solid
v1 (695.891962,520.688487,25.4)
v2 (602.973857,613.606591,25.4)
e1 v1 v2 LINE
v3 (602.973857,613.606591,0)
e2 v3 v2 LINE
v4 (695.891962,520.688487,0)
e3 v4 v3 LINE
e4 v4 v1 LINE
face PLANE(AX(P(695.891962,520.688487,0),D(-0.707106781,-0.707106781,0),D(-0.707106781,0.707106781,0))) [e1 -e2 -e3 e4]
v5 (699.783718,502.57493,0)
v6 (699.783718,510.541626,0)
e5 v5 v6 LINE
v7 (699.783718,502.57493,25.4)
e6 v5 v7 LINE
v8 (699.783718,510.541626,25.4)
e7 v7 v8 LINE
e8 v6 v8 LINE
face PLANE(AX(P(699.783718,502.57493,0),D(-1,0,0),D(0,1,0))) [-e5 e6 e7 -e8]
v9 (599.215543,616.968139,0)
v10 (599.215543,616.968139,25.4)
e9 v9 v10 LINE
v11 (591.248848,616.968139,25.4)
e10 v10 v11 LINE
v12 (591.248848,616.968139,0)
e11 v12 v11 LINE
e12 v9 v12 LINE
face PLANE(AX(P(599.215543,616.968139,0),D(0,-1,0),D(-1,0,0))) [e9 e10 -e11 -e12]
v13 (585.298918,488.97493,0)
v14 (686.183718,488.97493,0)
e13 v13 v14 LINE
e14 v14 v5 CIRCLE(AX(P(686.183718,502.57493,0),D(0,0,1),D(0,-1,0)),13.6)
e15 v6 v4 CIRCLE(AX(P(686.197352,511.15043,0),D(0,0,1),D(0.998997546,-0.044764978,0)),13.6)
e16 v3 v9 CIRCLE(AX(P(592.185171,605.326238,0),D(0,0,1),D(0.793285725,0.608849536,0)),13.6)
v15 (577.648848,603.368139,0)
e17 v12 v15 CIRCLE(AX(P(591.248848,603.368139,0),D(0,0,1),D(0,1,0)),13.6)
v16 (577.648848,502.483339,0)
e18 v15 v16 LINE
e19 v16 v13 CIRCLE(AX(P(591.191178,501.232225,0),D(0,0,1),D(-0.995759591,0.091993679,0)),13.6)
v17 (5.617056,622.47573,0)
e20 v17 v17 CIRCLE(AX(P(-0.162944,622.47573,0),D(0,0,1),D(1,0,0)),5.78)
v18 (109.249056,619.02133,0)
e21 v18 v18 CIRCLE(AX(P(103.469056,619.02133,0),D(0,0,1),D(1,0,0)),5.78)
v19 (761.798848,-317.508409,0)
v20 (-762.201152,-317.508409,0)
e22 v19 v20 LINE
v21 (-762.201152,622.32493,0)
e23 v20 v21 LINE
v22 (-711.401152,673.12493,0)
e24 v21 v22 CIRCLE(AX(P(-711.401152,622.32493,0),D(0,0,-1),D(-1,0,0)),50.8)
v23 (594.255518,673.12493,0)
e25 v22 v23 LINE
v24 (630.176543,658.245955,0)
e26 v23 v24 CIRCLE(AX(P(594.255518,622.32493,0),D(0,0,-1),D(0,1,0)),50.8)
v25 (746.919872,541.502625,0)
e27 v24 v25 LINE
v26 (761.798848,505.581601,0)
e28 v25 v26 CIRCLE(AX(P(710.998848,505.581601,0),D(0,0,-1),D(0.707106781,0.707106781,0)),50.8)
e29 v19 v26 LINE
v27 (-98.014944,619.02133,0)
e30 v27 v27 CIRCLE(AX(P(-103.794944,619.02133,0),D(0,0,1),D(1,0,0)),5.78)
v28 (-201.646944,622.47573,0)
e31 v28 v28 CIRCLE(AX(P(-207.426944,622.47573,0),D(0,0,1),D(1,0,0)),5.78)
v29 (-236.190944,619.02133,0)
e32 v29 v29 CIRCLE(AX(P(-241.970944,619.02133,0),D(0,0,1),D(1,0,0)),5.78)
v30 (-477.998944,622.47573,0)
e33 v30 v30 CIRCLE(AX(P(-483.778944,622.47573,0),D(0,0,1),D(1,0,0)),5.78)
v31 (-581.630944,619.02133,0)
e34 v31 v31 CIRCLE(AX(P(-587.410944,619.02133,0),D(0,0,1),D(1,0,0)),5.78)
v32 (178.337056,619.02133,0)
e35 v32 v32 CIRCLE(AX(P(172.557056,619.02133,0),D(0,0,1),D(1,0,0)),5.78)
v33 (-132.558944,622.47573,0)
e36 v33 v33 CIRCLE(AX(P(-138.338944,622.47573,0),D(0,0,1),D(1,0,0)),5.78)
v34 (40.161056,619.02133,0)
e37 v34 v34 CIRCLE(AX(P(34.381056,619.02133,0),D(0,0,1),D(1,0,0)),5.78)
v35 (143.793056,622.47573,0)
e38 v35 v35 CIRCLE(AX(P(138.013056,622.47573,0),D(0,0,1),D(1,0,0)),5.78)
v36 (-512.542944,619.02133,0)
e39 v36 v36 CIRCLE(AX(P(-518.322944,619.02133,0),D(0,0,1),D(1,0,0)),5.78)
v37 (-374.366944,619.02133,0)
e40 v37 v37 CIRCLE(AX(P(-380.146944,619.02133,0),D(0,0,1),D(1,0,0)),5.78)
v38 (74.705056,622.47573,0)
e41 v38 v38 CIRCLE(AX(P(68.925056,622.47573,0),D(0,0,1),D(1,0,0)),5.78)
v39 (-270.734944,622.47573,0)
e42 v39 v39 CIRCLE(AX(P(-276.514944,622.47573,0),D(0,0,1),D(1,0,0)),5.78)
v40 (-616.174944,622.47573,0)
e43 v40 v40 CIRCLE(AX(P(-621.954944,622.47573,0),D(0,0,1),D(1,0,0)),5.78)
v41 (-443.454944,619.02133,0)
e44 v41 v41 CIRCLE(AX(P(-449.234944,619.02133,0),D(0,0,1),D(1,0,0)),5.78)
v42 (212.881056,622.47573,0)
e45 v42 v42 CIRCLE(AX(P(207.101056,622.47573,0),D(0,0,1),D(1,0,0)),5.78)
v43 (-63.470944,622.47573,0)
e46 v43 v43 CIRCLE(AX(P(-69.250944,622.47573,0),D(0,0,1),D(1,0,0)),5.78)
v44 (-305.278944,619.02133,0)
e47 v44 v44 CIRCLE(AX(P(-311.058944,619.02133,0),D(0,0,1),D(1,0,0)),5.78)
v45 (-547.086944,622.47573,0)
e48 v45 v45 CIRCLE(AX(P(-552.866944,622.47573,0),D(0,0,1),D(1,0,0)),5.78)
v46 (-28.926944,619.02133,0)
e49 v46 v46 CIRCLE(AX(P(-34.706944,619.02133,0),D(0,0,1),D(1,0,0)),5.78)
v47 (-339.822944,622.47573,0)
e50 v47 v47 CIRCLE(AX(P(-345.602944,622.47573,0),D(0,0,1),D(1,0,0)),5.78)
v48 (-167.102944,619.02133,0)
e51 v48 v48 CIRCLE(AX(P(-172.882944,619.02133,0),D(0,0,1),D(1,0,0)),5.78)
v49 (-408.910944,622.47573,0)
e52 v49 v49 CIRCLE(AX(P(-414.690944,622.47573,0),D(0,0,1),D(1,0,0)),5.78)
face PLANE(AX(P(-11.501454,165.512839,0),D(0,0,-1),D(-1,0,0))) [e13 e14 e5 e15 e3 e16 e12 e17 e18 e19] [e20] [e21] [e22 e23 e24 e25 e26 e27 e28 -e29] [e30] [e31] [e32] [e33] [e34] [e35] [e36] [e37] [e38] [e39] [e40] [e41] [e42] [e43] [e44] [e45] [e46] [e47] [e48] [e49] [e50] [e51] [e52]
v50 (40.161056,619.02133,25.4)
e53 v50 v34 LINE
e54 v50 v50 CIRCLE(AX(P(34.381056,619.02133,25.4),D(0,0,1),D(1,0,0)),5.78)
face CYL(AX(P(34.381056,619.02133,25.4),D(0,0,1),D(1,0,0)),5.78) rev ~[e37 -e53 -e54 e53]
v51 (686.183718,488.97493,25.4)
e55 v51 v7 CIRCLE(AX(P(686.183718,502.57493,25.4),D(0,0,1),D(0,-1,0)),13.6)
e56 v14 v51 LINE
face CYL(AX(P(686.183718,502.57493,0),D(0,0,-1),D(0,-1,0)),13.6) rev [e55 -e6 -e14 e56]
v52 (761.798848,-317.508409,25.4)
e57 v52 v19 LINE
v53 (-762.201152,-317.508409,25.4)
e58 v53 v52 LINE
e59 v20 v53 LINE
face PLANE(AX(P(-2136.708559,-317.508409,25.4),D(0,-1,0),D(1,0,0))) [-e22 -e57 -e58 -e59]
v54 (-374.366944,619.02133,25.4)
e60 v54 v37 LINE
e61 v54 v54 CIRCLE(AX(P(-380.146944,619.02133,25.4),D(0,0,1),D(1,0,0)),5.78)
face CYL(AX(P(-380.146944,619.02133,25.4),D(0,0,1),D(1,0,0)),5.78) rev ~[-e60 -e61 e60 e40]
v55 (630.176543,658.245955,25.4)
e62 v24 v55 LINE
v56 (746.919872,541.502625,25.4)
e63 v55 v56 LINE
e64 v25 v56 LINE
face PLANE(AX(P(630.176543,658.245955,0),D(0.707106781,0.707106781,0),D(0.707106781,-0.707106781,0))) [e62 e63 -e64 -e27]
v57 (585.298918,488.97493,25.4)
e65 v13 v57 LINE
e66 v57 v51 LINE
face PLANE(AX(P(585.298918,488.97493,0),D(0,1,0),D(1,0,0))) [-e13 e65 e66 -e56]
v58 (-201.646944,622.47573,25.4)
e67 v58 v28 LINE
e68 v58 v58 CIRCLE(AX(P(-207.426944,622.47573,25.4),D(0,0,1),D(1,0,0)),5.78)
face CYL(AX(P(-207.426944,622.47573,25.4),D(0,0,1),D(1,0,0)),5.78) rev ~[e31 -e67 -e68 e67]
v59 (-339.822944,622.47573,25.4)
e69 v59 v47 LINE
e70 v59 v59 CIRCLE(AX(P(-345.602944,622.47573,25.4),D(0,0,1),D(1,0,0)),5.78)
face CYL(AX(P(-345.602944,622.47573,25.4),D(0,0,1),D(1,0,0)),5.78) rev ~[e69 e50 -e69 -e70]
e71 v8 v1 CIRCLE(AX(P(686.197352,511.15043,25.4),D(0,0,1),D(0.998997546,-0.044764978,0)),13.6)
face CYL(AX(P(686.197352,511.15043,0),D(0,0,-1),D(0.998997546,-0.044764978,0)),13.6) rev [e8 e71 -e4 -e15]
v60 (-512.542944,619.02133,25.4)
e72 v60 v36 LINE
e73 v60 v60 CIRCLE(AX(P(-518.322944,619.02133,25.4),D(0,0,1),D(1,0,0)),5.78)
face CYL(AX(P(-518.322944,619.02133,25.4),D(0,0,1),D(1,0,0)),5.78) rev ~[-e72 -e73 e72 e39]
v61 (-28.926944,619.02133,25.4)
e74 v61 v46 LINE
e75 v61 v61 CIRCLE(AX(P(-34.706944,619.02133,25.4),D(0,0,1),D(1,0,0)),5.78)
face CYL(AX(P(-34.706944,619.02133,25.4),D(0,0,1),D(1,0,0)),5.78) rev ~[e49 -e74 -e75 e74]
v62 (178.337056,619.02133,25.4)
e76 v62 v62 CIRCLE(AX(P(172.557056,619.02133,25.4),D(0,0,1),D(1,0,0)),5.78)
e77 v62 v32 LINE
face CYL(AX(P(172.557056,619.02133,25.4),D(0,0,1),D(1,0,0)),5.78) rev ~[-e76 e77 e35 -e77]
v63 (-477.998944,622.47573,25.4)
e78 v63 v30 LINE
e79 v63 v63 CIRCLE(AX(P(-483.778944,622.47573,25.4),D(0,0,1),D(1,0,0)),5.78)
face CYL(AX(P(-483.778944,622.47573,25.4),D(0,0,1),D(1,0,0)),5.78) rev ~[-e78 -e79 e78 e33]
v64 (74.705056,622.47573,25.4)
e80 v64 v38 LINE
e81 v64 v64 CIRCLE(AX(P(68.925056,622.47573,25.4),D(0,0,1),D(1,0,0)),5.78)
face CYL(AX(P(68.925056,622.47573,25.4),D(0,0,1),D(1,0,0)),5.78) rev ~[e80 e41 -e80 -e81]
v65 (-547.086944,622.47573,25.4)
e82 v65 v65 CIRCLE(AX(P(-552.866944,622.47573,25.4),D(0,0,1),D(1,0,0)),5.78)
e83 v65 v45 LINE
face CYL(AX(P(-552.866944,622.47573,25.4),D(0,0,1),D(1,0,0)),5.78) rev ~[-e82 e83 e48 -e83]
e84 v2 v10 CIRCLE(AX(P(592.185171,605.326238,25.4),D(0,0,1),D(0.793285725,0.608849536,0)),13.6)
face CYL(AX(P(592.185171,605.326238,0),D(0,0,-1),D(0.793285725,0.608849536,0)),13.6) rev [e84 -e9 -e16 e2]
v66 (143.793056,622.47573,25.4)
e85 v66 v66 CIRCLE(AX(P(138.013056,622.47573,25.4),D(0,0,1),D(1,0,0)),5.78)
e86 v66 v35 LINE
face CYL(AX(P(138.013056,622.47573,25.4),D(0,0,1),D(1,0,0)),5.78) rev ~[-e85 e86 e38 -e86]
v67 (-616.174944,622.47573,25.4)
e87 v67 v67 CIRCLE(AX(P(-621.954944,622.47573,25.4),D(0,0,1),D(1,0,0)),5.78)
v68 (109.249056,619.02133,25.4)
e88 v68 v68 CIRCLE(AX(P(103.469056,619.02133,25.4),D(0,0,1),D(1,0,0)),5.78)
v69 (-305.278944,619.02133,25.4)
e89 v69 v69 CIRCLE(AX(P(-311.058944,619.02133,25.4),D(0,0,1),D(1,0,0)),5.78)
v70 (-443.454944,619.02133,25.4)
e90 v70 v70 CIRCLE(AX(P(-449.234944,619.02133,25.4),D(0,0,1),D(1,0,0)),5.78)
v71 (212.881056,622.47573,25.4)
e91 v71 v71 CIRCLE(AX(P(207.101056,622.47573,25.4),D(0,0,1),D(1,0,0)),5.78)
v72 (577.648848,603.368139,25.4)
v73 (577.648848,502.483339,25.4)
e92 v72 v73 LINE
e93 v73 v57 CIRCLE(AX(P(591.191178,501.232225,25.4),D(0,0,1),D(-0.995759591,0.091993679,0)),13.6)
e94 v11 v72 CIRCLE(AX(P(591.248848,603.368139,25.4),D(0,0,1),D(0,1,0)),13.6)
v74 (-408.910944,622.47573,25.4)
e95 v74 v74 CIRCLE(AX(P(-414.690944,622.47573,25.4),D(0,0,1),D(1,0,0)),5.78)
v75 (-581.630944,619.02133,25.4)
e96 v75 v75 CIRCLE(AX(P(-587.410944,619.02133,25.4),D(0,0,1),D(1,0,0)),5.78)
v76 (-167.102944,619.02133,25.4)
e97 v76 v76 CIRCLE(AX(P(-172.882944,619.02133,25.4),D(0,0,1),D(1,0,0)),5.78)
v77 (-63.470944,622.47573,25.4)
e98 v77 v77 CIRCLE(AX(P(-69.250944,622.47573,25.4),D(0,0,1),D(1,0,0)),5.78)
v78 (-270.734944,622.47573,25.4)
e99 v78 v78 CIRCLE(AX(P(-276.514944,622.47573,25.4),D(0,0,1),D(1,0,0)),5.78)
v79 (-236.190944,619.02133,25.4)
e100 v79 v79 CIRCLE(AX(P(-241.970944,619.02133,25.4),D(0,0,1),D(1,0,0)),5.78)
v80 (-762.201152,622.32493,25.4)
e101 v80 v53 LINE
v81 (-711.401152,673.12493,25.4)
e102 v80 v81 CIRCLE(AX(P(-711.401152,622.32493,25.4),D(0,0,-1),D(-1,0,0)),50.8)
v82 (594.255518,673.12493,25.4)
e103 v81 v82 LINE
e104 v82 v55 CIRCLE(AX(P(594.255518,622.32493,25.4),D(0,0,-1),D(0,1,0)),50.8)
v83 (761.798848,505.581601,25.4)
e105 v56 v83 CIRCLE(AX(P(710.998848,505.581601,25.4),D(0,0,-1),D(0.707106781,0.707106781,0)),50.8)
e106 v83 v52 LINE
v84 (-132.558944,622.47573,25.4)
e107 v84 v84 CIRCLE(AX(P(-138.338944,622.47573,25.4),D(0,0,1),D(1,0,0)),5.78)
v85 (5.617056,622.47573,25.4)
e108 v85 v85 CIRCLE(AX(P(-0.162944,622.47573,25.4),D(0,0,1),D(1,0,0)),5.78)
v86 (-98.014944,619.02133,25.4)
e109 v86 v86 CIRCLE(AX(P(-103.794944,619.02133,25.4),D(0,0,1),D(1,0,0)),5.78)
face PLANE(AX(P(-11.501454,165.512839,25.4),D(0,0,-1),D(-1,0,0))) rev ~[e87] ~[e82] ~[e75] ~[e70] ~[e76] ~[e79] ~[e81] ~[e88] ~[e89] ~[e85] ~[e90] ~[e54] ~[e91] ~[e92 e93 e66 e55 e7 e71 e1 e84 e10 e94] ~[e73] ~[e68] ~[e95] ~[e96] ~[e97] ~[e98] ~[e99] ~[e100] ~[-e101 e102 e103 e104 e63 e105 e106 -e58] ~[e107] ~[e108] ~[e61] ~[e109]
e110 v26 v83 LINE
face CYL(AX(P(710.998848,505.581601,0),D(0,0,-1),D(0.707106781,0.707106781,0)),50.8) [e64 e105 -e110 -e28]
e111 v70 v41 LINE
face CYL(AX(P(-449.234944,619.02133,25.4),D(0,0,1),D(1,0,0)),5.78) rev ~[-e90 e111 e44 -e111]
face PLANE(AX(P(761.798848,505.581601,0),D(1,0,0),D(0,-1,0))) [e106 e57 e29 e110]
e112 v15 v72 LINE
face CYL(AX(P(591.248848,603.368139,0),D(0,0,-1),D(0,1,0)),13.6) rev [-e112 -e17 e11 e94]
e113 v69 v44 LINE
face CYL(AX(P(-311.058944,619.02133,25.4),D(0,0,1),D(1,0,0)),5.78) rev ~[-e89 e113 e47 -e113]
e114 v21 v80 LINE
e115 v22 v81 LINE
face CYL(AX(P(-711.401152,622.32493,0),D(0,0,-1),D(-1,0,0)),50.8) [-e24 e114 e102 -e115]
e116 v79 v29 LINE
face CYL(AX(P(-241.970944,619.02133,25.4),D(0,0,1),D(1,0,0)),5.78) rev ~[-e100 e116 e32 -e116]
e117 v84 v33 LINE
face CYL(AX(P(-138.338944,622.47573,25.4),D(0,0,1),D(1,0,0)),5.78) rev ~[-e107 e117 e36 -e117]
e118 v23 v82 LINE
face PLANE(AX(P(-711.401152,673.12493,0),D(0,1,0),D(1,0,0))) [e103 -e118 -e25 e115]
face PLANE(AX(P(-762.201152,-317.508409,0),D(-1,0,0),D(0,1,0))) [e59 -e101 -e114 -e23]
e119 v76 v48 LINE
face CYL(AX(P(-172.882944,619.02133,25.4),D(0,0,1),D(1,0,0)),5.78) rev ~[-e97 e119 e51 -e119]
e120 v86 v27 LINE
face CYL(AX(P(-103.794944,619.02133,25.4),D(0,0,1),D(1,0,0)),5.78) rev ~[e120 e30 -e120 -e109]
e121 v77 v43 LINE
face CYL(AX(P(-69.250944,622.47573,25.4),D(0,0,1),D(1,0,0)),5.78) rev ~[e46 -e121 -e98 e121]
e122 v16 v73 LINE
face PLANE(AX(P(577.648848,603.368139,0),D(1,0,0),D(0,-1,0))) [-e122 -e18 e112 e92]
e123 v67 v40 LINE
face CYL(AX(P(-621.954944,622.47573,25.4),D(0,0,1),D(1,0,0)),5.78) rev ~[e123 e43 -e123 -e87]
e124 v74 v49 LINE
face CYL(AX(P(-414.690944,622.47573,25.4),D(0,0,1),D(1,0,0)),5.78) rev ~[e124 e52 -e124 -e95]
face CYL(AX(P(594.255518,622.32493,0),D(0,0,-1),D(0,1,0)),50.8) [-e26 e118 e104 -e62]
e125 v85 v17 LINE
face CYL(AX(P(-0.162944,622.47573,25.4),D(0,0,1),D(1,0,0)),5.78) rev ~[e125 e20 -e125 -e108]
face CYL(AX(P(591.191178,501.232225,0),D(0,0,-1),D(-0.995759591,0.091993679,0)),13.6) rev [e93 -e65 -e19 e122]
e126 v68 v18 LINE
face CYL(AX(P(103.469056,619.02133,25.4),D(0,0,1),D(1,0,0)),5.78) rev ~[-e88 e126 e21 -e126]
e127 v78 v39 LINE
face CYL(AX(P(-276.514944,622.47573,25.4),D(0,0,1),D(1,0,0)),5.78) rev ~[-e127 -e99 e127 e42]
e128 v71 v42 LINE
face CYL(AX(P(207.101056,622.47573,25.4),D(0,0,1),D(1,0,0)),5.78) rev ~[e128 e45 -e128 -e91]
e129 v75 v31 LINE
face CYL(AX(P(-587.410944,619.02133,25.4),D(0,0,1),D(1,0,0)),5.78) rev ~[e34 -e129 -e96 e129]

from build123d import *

# Parameters (mm, degrees)
LOWER_MPCHIP_R      = 12.7
BOSS_EXTRUDE1_DEPTH = 25.4
BOSS_EXTRUDE2_DEPTH = 25.4
CUT_EXTRUDE1_DEPTH  = 12.7
SKETCH12_R          = 5.78
CUT_EXTRUDE2_DEPTH  = 26.4
SKETCH13_W          = 3566.23722931
SKETCH13_H          = 1219.2
CUT_EXTRUDE3_DEPTH  = 26.4


with BuildPart() as part:
    # lower mpchip → Boss-Extrude1 (new body)
    with BuildSketch(Plane.XY):
        with BuildLine():
            Line((-762.201152263, -317.508408711), (761.798847737, -317.508408711))
            Line((761.798847737, -317.508408711), (761.798847737, -1480.956188545))
            ThreePointArc((761.798847737, -1480.956188545), (746.752491854, -1519.103697906), (709.716030721, -1536.708408711))
            Line((709.716030721, -1536.708408711), (-486.894749236, -1536.708408711))
            ThreePointArc((-486.894749236, -1536.708408711), (-506.3350676, -1532.841488963), (-522.815773721, -1521.829433195))
            Line((-522.815773721, -1521.829433195), (-747.322176747, -1297.323030169))
            ThreePointArc((-747.322176747, -1297.323030169), (-758.334232515, -1280.842324049), (-762.201152263, -1261.402005684))
            Line((-762.201152263, -1261.402005684), (-762.201152263, -573.5936))
            Line((-762.201152263, -573.5936), (-762.201152263, -317.508408711))
        make_face()
        with Locations((-621.20176, -630.088)):
            Circle(LOWER_MPCHIP_R, mode=Mode.SUBTRACT)
        with Locations((-414.14176, -630.088)):
            Circle(LOWER_MPCHIP_R, mode=Mode.SUBTRACT)
        with Locations((-208.08, -656.064)):
            Circle(LOWER_MPCHIP_R, mode=Mode.SUBTRACT)
        with Locations((-70.04, -656.064)):
            Circle(LOWER_MPCHIP_R, mode=Mode.SUBTRACT)
        with Locations((68, -656.064)):
            Circle(LOWER_MPCHIP_R, mode=Mode.SUBTRACT)
        with Locations((206.04, -656.064)):
            Circle(LOWER_MPCHIP_R, mode=Mode.SUBTRACT)
        with Locations((344.08, -656.064)):
            Circle(LOWER_MPCHIP_R, mode=Mode.SUBTRACT)
        with Locations((482.12, -656.064)):
            Circle(LOWER_MPCHIP_R, mode=Mode.SUBTRACT)
        with Locations((632.264, -656.064)):
            Circle(LOWER_MPCHIP_R, mode=Mode.SUBTRACT)
        with Locations((552.13824, -768.944)):
            Circle(LOWER_MPCHIP_R, mode=Mode.SUBTRACT)
        with Locations((414.09824, -768.944)):
            Circle(LOWER_MPCHIP_R, mode=Mode.SUBTRACT)
        with Locations((276.05824, -768.944)):
            Circle(LOWER_MPCHIP_R, mode=Mode.SUBTRACT)
        with Locations((138.01824, -768.944)):
            Circle(LOWER_MPCHIP_R, mode=Mode.SUBTRACT)
        with Locations((-0.02176, -768.944)):
            Circle(LOWER_MPCHIP_R, mode=Mode.SUBTRACT)
        with Locations((-138.06176, -768.944)):
            Circle(LOWER_MPCHIP_R, mode=Mode.SUBTRACT)
        with Locations((-331.99776, -712.232)):
            Circle(LOWER_MPCHIP_R, mode=Mode.SUBTRACT)
        with Locations((-414.14176, -794.376)):
            Circle(LOWER_MPCHIP_R, mode=Mode.SUBTRACT)
        with Locations((-496.28576, -712.232)):
            Circle(LOWER_MPCHIP_R, mode=Mode.SUBTRACT)
        with Locations((-621.20176, -909.16)):
            Circle(LOWER_MPCHIP_R, mode=Mode.SUBTRACT)
        with Locations((-483.16176, -909.16)):
            Circle(LOWER_MPCHIP_R, mode=Mode.SUBTRACT)
        with Locations((-345.12176, -909.16)):
            Circle(LOWER_MPCHIP_R, mode=Mode.SUBTRACT)
        with Locations((-207.08176, -909.16)):
            Circle(LOWER_MPCHIP_R, mode=Mode.SUBTRACT)
        with Locations((-69.04176, -909.16)):
            Circle(LOWER_MPCHIP_R, mode=Mode.SUBTRACT)
        with Locations((68.99824, -909.16)):
            Circle(LOWER_MPCHIP_R, mode=Mode.SUBTRACT)
        with Locations((207.03824, -909.16)):
            Circle(LOWER_MPCHIP_R, mode=Mode.SUBTRACT)
        with Locations((345.07824, -909.16)):
            Circle(LOWER_MPCHIP_R, mode=Mode.SUBTRACT)
        with Locations((483.11824, -909.16)):
            Circle(LOWER_MPCHIP_R, mode=Mode.SUBTRACT)
        with Locations((621.20176, -909.16)):
            Circle(LOWER_MPCHIP_R, mode=Mode.SUBTRACT)
        with Locations((552.20624, -1022.04)):
            Circle(LOWER_MPCHIP_R, mode=Mode.SUBTRACT)
        with Locations((632.264, -1134.92)):
            Circle(LOWER_MPCHIP_R, mode=Mode.SUBTRACT)
        with Locations((483.11824, -1134.92)):
            Circle(LOWER_MPCHIP_R, mode=Mode.SUBTRACT)
        with Locations((414.16624, -1022.04)):
            Circle(LOWER_MPCHIP_R, mode=Mode.SUBTRACT)
        with Locations((276.12624, -1022.04)):
            Circle(LOWER_MPCHIP_R, mode=Mode.SUBTRACT)
        with Locations((138.08624, -1022.04)):
            Circle(LOWER_MPCHIP_R, mode=Mode.SUBTRACT)
        with Locations((-0.04624, -1022.04)):
            Circle(LOWER_MPCHIP_R, mode=Mode.SUBTRACT)
        with Locations((-137.99376, -1022.04)):
            Circle(LOWER_MPCHIP_R, mode=Mode.SUBTRACT)
        with Locations((-276.03376, -1022.04)):
            Circle(LOWER_MPCHIP_R, mode=Mode.SUBTRACT)
        with Locations((-414.07376, -1022.04)):
            Circle(LOWER_MPCHIP_R, mode=Mode.SUBTRACT)
        with Locations((-552.11376, -1022.04)):
            Circle(LOWER_MPCHIP_R, mode=Mode.SUBTRACT)
        with Locations((-621.20176, -1134.92)):
            Circle(LOWER_MPCHIP_R, mode=Mode.SUBTRACT)
        with Locations((-483.16176, -1134.92)):
            Circle(LOWER_MPCHIP_R, mode=Mode.SUBTRACT)
        with Locations((-345.12176, -1134.92)):
            Circle(LOWER_MPCHIP_R, mode=Mode.SUBTRACT)
        with Locations((-207.08176, -1134.92)):
            Circle(LOWER_MPCHIP_R, mode=Mode.SUBTRACT)
        with Locations((-69.04176, -1134.92)):
            Circle(LOWER_MPCHIP_R, mode=Mode.SUBTRACT)
        with Locations((68.99824, -1134.92)):
            Circle(LOWER_MPCHIP_R, mode=Mode.SUBTRACT)
        with Locations((207.03824, -1134.92)):
            Circle(LOWER_MPCHIP_R, mode=Mode.SUBTRACT)
        with Locations((345.07824, -1134.92)):
            Circle(LOWER_MPCHIP_R, mode=Mode.SUBTRACT)
        with Locations((552.11376, -1247.8)):
            Circle(LOWER_MPCHIP_R, mode=Mode.SUBTRACT)
        with Locations((414.07376, -1247.8)):
            Circle(LOWER_MPCHIP_R, mode=Mode.SUBTRACT)
        with Locations((276.03376, -1247.8)):
            Circle(LOWER_MPCHIP_R, mode=Mode.SUBTRACT)
        with Locations((-276.03376, -1247.8)):
            Circle(LOWER_MPCHIP_R, mode=Mode.SUBTRACT)
        with Locations((-414.07376, -1247.8)):
            Circle(LOWER_MPCHIP_R, mode=Mode.SUBTRACT)
        with Locations((-552.11376, -1247.8)):
            Circle(LOWER_MPCHIP_R, mode=Mode.SUBTRACT)
        with Locations((-97.632449909, -1263.063884579)):
            Circle(LOWER_MPCHIP_R, mode=Mode.SUBTRACT)
        with Locations((106.666799165, -1262.352)):
            Circle(LOWER_MPCHIP_R, mode=Mode.SUBTRACT)
        with Locations((0.272, -1404.472)):
            Circle(LOWER_MPCHIP_R, mode=Mode.SUBTRACT)
        with BuildLine():
            Line((-538.8864, -1379.4208), (-538.8864, -1386.3296))
            ThreePointArc((-538.8864, -1386.3296), (-483.616, -1441.6), (-428.3456, -1386.3296))
            Line((-428.3456, -1386.3296), (-428.3456, -1379.4208))
            ThreePointArc((-428.3456, -1379.4208), (-483.616, -1324.1504), (-538.8864, -1379.4208))
        make_face(mode=Mode.SUBTRACT)
        Polygon((452.208145356, -1437.2752), (515.023854644, -1437.2752), (546.431709288, -1382.8752), (515.023854644, -1328.4752), (452.208145356, -1328.4752), (420.800290712, -1382.8752), align=None, mode=Mode.SUBTRACT)
    extrude(amount=BOSS_EXTRUDE1_DEPTH)

    # Sketch5 → Boss-Extrude2 (add)
    with BuildSketch(Plane.XY):
        with BuildLine():
            Line((761.798847737, -317.508408711), (-762.201152263, -317.508408711))
            Line((-762.201152263, -317.508408711), (-762.201152263, 622.324930397))
            ThreePointArc((-762.201152263, 622.324930397), (-747.322176747, 658.245954881), (-711.401152263, 673.124930397))
            Line((-711.401152263, 673.124930397), (594.255518163, 673.124930397))
            ThreePointArc((594.255518163, 673.124930397), (613.695836527, 669.258010649), (630.176542647, 658.245954881))
            Line((630.176542647, 658.245954881), (746.919872221, 541.502625308))
            ThreePointArc((746.919872221, 541.502625308), (757.931927989, 525.021919187), (761.798847737, 505.581600823))
            Line((761.798847737, 505.581600823), (761.798847737, 68.063364259))
            Line((761.798847737, 68.063364259), (761.798847737, -317.508408711))
        make_face()
        with BuildLine():
            Line((585.298918243, 488.974930397), (686.183718243, 488.974930397))
            ThreePointArc((686.183718243, 488.974930397), (695.800370467, 492.958278173), (699.783718243, 502.574930397))
            Line((699.783718243, 502.574930397), (699.783718243, 510.541625949))
            ThreePointArc((699.783718243, 510.541625949), (698.895409188, 516.020679535), (695.891961756, 520.688486804))
            Line((695.891961756, 520.688486804), (602.973857308, 613.606591252))
            ThreePointArc((602.973857308, 613.606591252), (601.251852502, 615.463066183), (599.215543289, 616.968139108))
            Line((599.215543289, 616.968139108), (591.248847737, 616.968139108))
            ThreePointArc((591.248847737, 616.968139108), (581.632195513, 612.984791332), (577.648847737, 603.368139108))
            Line((577.648847737, 603.368139108), (577.648847737, 502.483339108))
            ThreePointArc((577.648847737, 502.483339108), (579.357112847, 494.53036729), (585.298918243, 488.974930397))
        make_face(mode=Mode.SUBTRACT)
    extrude(amount=BOSS_EXTRUDE2_DEPTH)

    # Sketch6 → Cut-Extrude1 (cut)
    with BuildSketch(Plane.XY.offset(25.4)):
        with BuildLine():
            ThreePointArc((4.331497575, -1447.460752941), (43.452, -1404.472), (4.331497575, -1361.483247059))
            ThreePointArc((4.331497575, -1361.483247059), (0.272, -1357.228), (-3.787497575, -1361.483247059))
            ThreePointArc((-3.787497575, -1361.483247059), (-42.908, -1404.472), (-3.787497575, -1447.460752941))
            ThreePointArc((-3.787497575, -1447.460752941), (0.272, -1451.716), (4.331497575, -1447.460752941))
        make_face()
        with BuildLine():
            ThreePointArc((110.72629674, -1305.340752941), (149.846799165, -1262.352), (110.72629674, -1219.363247059))
            ThreePointArc((110.72629674, -1219.363247059), (106.666799165, -1215.108), (102.60730159, -1219.363247059))
            ThreePointArc((102.60730159, -1219.363247059), (63.486799165, -1262.352), (102.60730159, -1305.340752941))
            ThreePointArc((102.60730159, -1305.340752941), (106.666799165, -1309.596), (110.72629674, -1305.340752941))
        make_face()
        with BuildLine():
            ThreePointArc((280.093257575, -1290.788752941), (319.21376, -1247.8), (280.093257575, -1204.811247059))
            ThreePointArc((280.093257575, -1204.811247059), (276.03376, -1200.556), (271.974262425, -1204.811247059))
            ThreePointArc((271.974262425, -1204.811247059), (232.85376, -1247.8), (271.974262425, -1290.788752941))
            ThreePointArc((271.974262425, -1290.788752941), (276.03376, -1295.044), (280.093257575, -1290.788752941))
        make_face()
        with BuildLine():
            ThreePointArc((-93.572952334, -1306.05263752), (-54.452449909, -1263.063884579), (-93.572952334, -1220.075131637))
            ThreePointArc((-93.572952334, -1220.075131637), (-97.632449909, -1215.819884579), (-101.691947484, -1220.075131637))
            ThreePointArc((-101.691947484, -1220.075131637), (-140.812449909, -1263.063884579), (-101.691947484, -1306.05263752))
            ThreePointArc((-101.691947484, -1306.05263752), (-97.632449909, -1310.307884579), (-93.572952334, -1306.05263752))
        make_face()
        with BuildLine():
            ThreePointArc((-271.974262425, -1290.788752941), (-232.85376, -1247.8), (-271.974262425, -1204.811247059))
            ThreePointArc((-271.974262425, -1204.811247059), (-276.03376, -1200.556), (-280.093257575, -1204.811247059))
            ThreePointArc((-280.093257575, -1204.811247059), (-319.21376, -1247.8), (-280.093257575, -1290.788752941))
            ThreePointArc((-280.093257575, -1290.788752941), (-276.03376, -1295.044), (-271.974262425, -1290.788752941))
        make_face()
        with BuildLine():
            ThreePointArc((-410.014262425, -1290.788752941), (-370.89376, -1247.8), (-410.014262425, -1204.811247059))
            ThreePointArc((-410.014262425, -1204.811247059), (-414.07376, -1200.556), (-418.133257575, -1204.811247059))
            ThreePointArc((-418.133257575, -1204.811247059), (-457.25376, -1247.8), (-418.133257575, -1290.788752941))
            ThreePointArc((-418.133257575, -1290.788752941), (-414.07376, -1295.044), (-410.014262425, -1290.788752941))
        make_face()
        with BuildLine():
            ThreePointArc((-341.062262425, -1177.908752941), (-301.94176, -1134.92), (-341.062262425, -1091.931247059))
            ThreePointArc((-341.062262425, -1091.931247059), (-345.12176, -1087.676), (-349.181257575, -1091.931247059))
            ThreePointArc((-349.181257575, -1091.931247059), (-388.30176, -1134.92), (-349.181257575, -1177.908752941))
            ThreePointArc((-349.181257575, -1177.908752941), (-345.12176, -1182.164), (-341.062262425, -1177.908752941))
        make_face()
        with BuildLine():
            ThreePointArc((-203.022262425, -1177.908752941), (-163.90176, -1134.92), (-203.022262425, -1091.931247059))
            ThreePointArc((-203.022262425, -1091.931247059), (-207.08176, -1087.676), (-211.141257575, -1091.931247059))
            ThreePointArc((-211.141257575, -1091.931247059), (-250.26176, -1134.92), (-211.141257575, -1177.908752941))
            ThreePointArc((-211.141257575, -1177.908752941), (-207.08176, -1182.164), (-203.022262425, -1177.908752941))
        make_face()
        with BuildLine():
            ThreePointArc((-64.982262425, -1177.908752941), (-25.86176, -1134.92), (-64.982262425, -1091.931247059))
            ThreePointArc((-64.982262425, -1091.931247059), (-69.04176, -1087.676), (-73.101257575, -1091.931247059))
            ThreePointArc((-73.101257575, -1091.931247059), (-112.22176, -1134.92), (-73.101257575, -1177.908752941))
            ThreePointArc((-73.101257575, -1177.908752941), (-69.04176, -1182.164), (-64.982262425, -1177.908752941))
        make_face()
        with BuildLine():
            ThreePointArc((73.057737575, -1177.908752941), (112.17824, -1134.92), (73.057737575, -1091.931247059))
            ThreePointArc((73.057737575, -1091.931247059), (68.99824, -1087.676), (64.938742425, -1091.931247059))
            ThreePointArc((64.938742425, -1091.931247059), (25.81824, -1134.92), (64.938742425, -1177.908752941))
            ThreePointArc((64.938742425, -1177.908752941), (68.99824, -1182.164), (73.057737575, -1177.908752941))
        make_face()
        with BuildLine():
            ThreePointArc((211.097737575, -1177.908752941), (250.21824, -1134.92), (211.097737575, -1091.931247059))
            ThreePointArc((211.097737575, -1091.931247059), (207.03824, -1087.676), (202.978742425, -1091.931247059))
            ThreePointArc((202.978742425, -1091.931247059), (163.85824, -1134.92), (202.978742425, -1177.908752941))
            ThreePointArc((202.978742425, -1177.908752941), (207.03824, -1182.164), (211.097737575, -1177.908752941))
        make_face()
        with BuildLine():
            ThreePointArc((349.137737575, -1177.908752941), (388.25824, -1134.92), (349.137737575, -1091.931247059))
            ThreePointArc((349.137737575, -1091.931247059), (345.07824, -1087.676), (341.018742425, -1091.931247059))
            ThreePointArc((341.018742425, -1091.931247059), (301.89824, -1134.92), (341.018742425, -1177.908752941))
            ThreePointArc((341.018742425, -1177.908752941), (345.07824, -1182.164), (349.137737575, -1177.908752941))
        make_face()
        with BuildLine():
            ThreePointArc((487.177737575, -1177.908752941), (526.29824, -1134.92), (487.177737575, -1091.931247059))
            ThreePointArc((487.177737575, -1091.931247059), (483.11824, -1087.676), (479.058742425, -1091.931247059))
            ThreePointArc((479.058742425, -1091.931247059), (439.93824, -1134.92), (479.058742425, -1177.908752941))
            ThreePointArc((479.058742425, -1177.908752941), (483.11824, -1182.164), (487.177737575, -1177.908752941))
        make_face()
        with BuildLine():
            ThreePointArc((636.323497575, -1177.908752941), (675.444, -1134.92), (636.323497575, -1091.931247059))
            ThreePointArc((636.323497575, -1091.931247059), (632.264, -1087.676), (628.204502425, -1091.931247059))
            ThreePointArc((628.204502425, -1091.931247059), (589.084, -1134.92), (628.204502425, -1177.908752941))
            ThreePointArc((628.204502425, -1177.908752941), (632.264, -1182.164), (636.323497575, -1177.908752941))
        make_face()
        with BuildLine():
            ThreePointArc((556.173257575, -1290.788752941), (595.29376, -1247.8), (556.173257575, -1204.811247059))
            ThreePointArc((556.173257575, -1204.811247059), (552.11376, -1200.556), (548.054262425, -1204.811247059))
            ThreePointArc((548.054262425, -1204.811247059), (508.93376, -1247.8), (548.054262425, -1290.788752941))
            ThreePointArc((548.054262425, -1290.788752941), (552.11376, -1295.044), (556.173257575, -1290.788752941))
        make_face()
        with BuildLine():
            ThreePointArc((418.133257575, -1290.788752941), (457.25376, -1247.8), (418.133257575, -1204.811247059))
            ThreePointArc((418.133257575, -1204.811247059), (414.07376, -1200.556), (410.014262425, -1204.811247059))
            ThreePointArc((410.014262425, -1204.811247059), (370.89376, -1247.8), (410.014262425, -1290.788752941))
            ThreePointArc((410.014262425, -1290.788752941), (414.07376, -1295.044), (418.133257575, -1290.788752941))
        make_face()
        with BuildLine():
            ThreePointArc((418.225737575, -1065.028752941), (457.34624, -1022.04), (418.225737575, -979.051247059))
            ThreePointArc((418.225737575, -979.051247059), (414.16624, -974.796), (410.106742425, -979.051247059))
            ThreePointArc((410.106742425, -979.051247059), (370.98624, -1022.04), (410.106742425, -1065.028752941))
            ThreePointArc((410.106742425, -1065.028752941), (414.16624, -1069.284), (418.225737575, -1065.028752941))
        make_face()
        with BuildLine():
            ThreePointArc((556.265737575, -1065.028752941), (595.38624, -1022.04), (556.265737575, -979.051247059))
            ThreePointArc((556.265737575, -979.051247059), (552.20624, -974.796), (548.146742425, -979.051247059))
            ThreePointArc((548.146742425, -979.051247059), (509.02624, -1022.04), (548.146742425, -1065.028752941))
            ThreePointArc((548.146742425, -1065.028752941), (552.20624, -1069.284), (556.265737575, -1065.028752941))
        make_face()
        with BuildLine():
            ThreePointArc((280.185737575, -1065.028752941), (319.30624, -1022.04), (280.185737575, -979.051247059))
            ThreePointArc((280.185737575, -979.051247059), (276.12624, -974.796), (272.066742425, -979.051247059))
            ThreePointArc((272.066742425, -979.051247059), (232.94624, -1022.04), (272.066742425, -1065.028752941))
            ThreePointArc((272.066742425, -1065.028752941), (276.12624, -1069.284), (280.185737575, -1065.028752941))
        make_face()
        with BuildLine():
            ThreePointArc((142.145737575, -1065.028752941), (181.26624, -1022.04), (142.145737575, -979.051247059))
            ThreePointArc((142.145737575, -979.051247059), (138.08624, -974.796), (134.026742425, -979.051247059))
            ThreePointArc((134.026742425, -979.051247059), (94.90624, -1022.04), (134.026742425, -1065.028752941))
            ThreePointArc((134.026742425, -1065.028752941), (138.08624, -1069.284), (142.145737575, -1065.028752941))
        make_face()
        with BuildLine():
            ThreePointArc((4.013257575, -1065.028752941), (43.13376, -1022.04), (4.013257575, -979.051247059))
            ThreePointArc((4.013257575, -979.051247059), (-0.04624, -974.796), (-4.105737575, -979.051247059))
            ThreePointArc((-4.105737575, -979.051247059), (-43.22624, -1022.04), (-4.105737575, -1065.028752941))
            ThreePointArc((-4.105737575, -1065.028752941), (-0.04624, -1069.284), (4.013257575, -1065.028752941))
        make_face()
        with BuildLine():
            ThreePointArc((-133.934262425, -1065.028752941), (-94.81376, -1022.04), (-133.934262425, -979.051247059))
            ThreePointArc((-133.934262425, -979.051247059), (-137.99376, -974.796), (-142.053257575, -979.051247059))
            ThreePointArc((-142.053257575, -979.051247059), (-181.17376, -1022.04), (-142.053257575, -1065.028752941))
            ThreePointArc((-142.053257575, -1065.028752941), (-137.99376, -1069.284), (-133.934262425, -1065.028752941))
        make_face()
        with BuildLine():
            ThreePointArc((-271.974262425, -1065.028752941), (-232.85376, -1022.04), (-271.974262425, -979.051247059))
            ThreePointArc((-271.974262425, -979.051247059), (-276.03376, -974.796), (-280.093257575, -979.051247059))
            ThreePointArc((-280.093257575, -979.051247059), (-319.21376, -1022.04), (-280.093257575, -1065.028752941))
            ThreePointArc((-280.093257575, -1065.028752941), (-276.03376, -1069.284), (-271.974262425, -1065.028752941))
        make_face()
        with BuildLine():
            ThreePointArc((-410.014262425, -1065.028752941), (-370.89376, -1022.04), (-410.014262425, -979.051247059))
            ThreePointArc((-410.014262425, -979.051247059), (-414.07376, -974.796), (-418.133257575, -979.051247059))
            ThreePointArc((-418.133257575, -979.051247059), (-457.25376, -1022.04), (-418.133257575, -1065.028752941))
            ThreePointArc((-418.133257575, -1065.028752941), (-414.07376, -1069.284), (-410.014262425, -1065.028752941))
        make_face()
        with BuildLine():
            ThreePointArc((-548.054262425, -1065.028752941), (-508.93376, -1022.04), (-548.054262425, -979.051247059))
            ThreePointArc((-548.054262425, -979.051247059), (-552.11376, -974.796), (-556.173257575, -979.051247059))
            ThreePointArc((-556.173257575, -979.051247059), (-595.29376, -1022.04), (-556.173257575, -1065.028752941))
            ThreePointArc((-556.173257575, -1065.028752941), (-552.11376, -1069.284), (-548.054262425, -1065.028752941))
        make_face()
        with BuildLine():
            ThreePointArc((-617.142262425, -1177.908752941), (-578.02176, -1134.92), (-617.142262425, -1091.931247059))
            ThreePointArc((-617.142262425, -1091.931247059), (-621.20176, -1087.676), (-625.261257575, -1091.931247059))
            ThreePointArc((-625.261257575, -1091.931247059), (-664.38176, -1134.92), (-625.261257575, -1177.908752941))
            ThreePointArc((-625.261257575, -1177.908752941), (-621.20176, -1182.164), (-617.142262425, -1177.908752941))
        make_face()
        with BuildLine():
            ThreePointArc((-479.102262425, -1177.908752941), (-439.98176, -1134.92), (-479.102262425, -1091.931247059))
            ThreePointArc((-479.102262425, -1091.931247059), (-483.16176, -1087.676), (-487.221257575, -1091.931247059))
            ThreePointArc((-487.221257575, -1091.931247059), (-526.34176, -1134.92), (-487.221257575, -1177.908752941))
            ThreePointArc((-487.221257575, -1177.908752941), (-483.16176, -1182.164), (-479.102262425, -1177.908752941))
        make_face()
        with BuildLine():
            ThreePointArc((-548.054262425, -1290.788752941), (-508.93376, -1247.8), (-548.054262425, -1204.811247059))
            ThreePointArc((-548.054262425, -1204.811247059), (-552.11376, -1200.556), (-556.173257575, -1204.811247059))
            ThreePointArc((-556.173257575, -1204.811247059), (-595.29376, -1247.8), (-556.173257575, -1290.788752941))
            ThreePointArc((-556.173257575, -1290.788752941), (-552.11376, -1295.044), (-548.054262425, -1290.788752941))
        make_face()
        with BuildLine():
            ThreePointArc((-617.142262425, -952.148752941), (-578.02176, -909.16), (-617.142262425, -866.171247059))
            ThreePointArc((-617.142262425, -866.171247059), (-621.20176, -861.916), (-625.261257575, -866.171247059))
            ThreePointArc((-625.261257575, -866.171247059), (-664.38176, -909.16), (-625.261257575, -952.148752941))
            ThreePointArc((-625.261257575, -952.148752941), (-621.20176, -956.404), (-617.142262425, -952.148752941))
        make_face()
        with BuildLine():
            ThreePointArc((-479.102262425, -952.148752941), (-439.98176, -909.16), (-479.102262425, -866.171247059))
            ThreePointArc((-479.102262425, -866.171247059), (-483.16176, -861.916), (-487.221257575, -866.171247059))
            ThreePointArc((-487.221257575, -866.171247059), (-526.34176, -909.16), (-487.221257575, -952.148752941))
            ThreePointArc((-487.221257575, -952.148752941), (-483.16176, -956.404), (-479.102262425, -952.148752941))
        make_face()
        with BuildLine():
            ThreePointArc((-341.062262425, -952.148752941), (-301.94176, -909.16), (-341.062262425, -866.171247059))
            ThreePointArc((-341.062262425, -866.171247059), (-345.12176, -861.916), (-349.181257575, -866.171247059))
            ThreePointArc((-349.181257575, -866.171247059), (-388.30176, -909.16), (-349.181257575, -952.148752941))
            ThreePointArc((-349.181257575, -952.148752941), (-345.12176, -956.404), (-341.062262425, -952.148752941))
        make_face()
        with BuildLine():
            ThreePointArc((-203.022262425, -952.148752941), (-163.90176, -909.16), (-203.022262425, -866.171247059))
            ThreePointArc((-203.022262425, -866.171247059), (-207.08176, -861.916), (-211.141257575, -866.171247059))
            ThreePointArc((-211.141257575, -866.171247059), (-250.26176, -909.16), (-211.141257575, -952.148752941))
            ThreePointArc((-211.141257575, -952.148752941), (-207.08176, -956.404), (-203.022262425, -952.148752941))
        make_face()
        with BuildLine():
            ThreePointArc((-64.982262425, -952.148752941), (-25.86176, -909.16), (-64.982262425, -866.171247059))
            ThreePointArc((-64.982262425, -866.171247059), (-69.04176, -861.916), (-73.101257575, -866.171247059))
            ThreePointArc((-73.101257575, -866.171247059), (-112.22176, -909.16), (-73.101257575, -952.148752941))
            ThreePointArc((-73.101257575, -952.148752941), (-69.04176, -956.404), (-64.982262425, -952.148752941))
        make_face()
        with BuildLine():
            ThreePointArc((73.057737575, -952.148752941), (112.17824, -909.16), (73.057737575, -866.171247059))
            ThreePointArc((73.057737575, -866.171247059), (68.99824, -861.916), (64.938742425, -866.171247059))
            ThreePointArc((64.938742425, -866.171247059), (25.81824, -909.16), (64.938742425, -952.148752941))
            ThreePointArc((64.938742425, -952.148752941), (68.99824, -956.404), (73.057737575, -952.148752941))
        make_face()
        with BuildLine():
            ThreePointArc((211.097737575, -952.148752941), (250.21824, -909.16), (211.097737575, -866.171247059))
            ThreePointArc((211.097737575, -866.171247059), (207.03824, -861.916), (202.978742425, -866.171247059))
            ThreePointArc((202.978742425, -866.171247059), (163.85824, -909.16), (202.978742425, -952.148752941))
            ThreePointArc((202.978742425, -952.148752941), (207.03824, -956.404), (211.097737575, -952.148752941))
        make_face()
        with BuildLine():
            ThreePointArc((349.137737575, -952.148752941), (388.25824, -909.16), (349.137737575, -866.171247059))
            ThreePointArc((349.137737575, -866.171247059), (345.07824, -861.916), (341.018742425, -866.171247059))
            ThreePointArc((341.018742425, -866.171247059), (301.89824, -909.16), (341.018742425, -952.148752941))
            ThreePointArc((341.018742425, -952.148752941), (345.07824, -956.404), (349.137737575, -952.148752941))
        make_face()
        with BuildLine():
            ThreePointArc((487.177737575, -952.148752941), (526.29824, -909.16), (487.177737575, -866.171247059))
            ThreePointArc((487.177737575, -866.171247059), (483.11824, -861.916), (479.058742425, -866.171247059))
            ThreePointArc((479.058742425, -866.171247059), (439.93824, -909.16), (479.058742425, -952.148752941))
            ThreePointArc((479.058742425, -952.148752941), (483.11824, -956.404), (487.177737575, -952.148752941))
        make_face()
        with BuildLine():
            ThreePointArc((625.261257575, -952.148752941), (664.38176, -909.16), (625.261257575, -866.171247059))
            ThreePointArc((625.261257575, -866.171247059), (621.20176, -861.916), (617.142262425, -866.171247059))
            ThreePointArc((617.142262425, -866.171247059), (578.02176, -909.16), (617.142262425, -952.148752941))
            ThreePointArc((617.142262425, -952.148752941), (621.20176, -956.404), (625.261257575, -952.148752941))
        make_face()
        with BuildLine():
            ThreePointArc((-410.082262425, -837.364752941), (-370.96176, -794.376), (-410.082262425, -751.387247059))
            ThreePointArc((-410.082262425, -751.387247059), (-414.14176, -747.132), (-418.201257575, -751.387247059))
            ThreePointArc((-418.201257575, -751.387247059), (-457.32176, -794.376), (-418.201257575, -837.364752941))
            ThreePointArc((-418.201257575, -837.364752941), (-414.14176, -841.62), (-410.082262425, -837.364752941))
        make_face()
        with BuildLine():
            ThreePointArc((-327.938262425, -755.220752941), (-288.81776, -712.232), (-327.938262425, -669.243247059))
            ThreePointArc((-327.938262425, -669.243247059), (-331.99776, -664.988), (-336.057257575, -669.243247059))
            ThreePointArc((-336.057257575, -669.243247059), (-375.17776, -712.232), (-336.057257575, -755.220752941))
            ThreePointArc((-336.057257575, -755.220752941), (-331.99776, -759.476), (-327.938262425, -755.220752941))
        make_face()
        with BuildLine():
            ThreePointArc((-410.082262425, -673.076752941), (-370.96176, -630.088), (-410.082262425, -587.099247059))
            ThreePointArc((-410.082262425, -587.099247059), (-414.14176, -582.844), (-418.201257575, -587.099247059))
            ThreePointArc((-418.201257575, -587.099247059), (-457.32176, -630.088), (-418.201257575, -673.076752941))
            ThreePointArc((-418.201257575, -673.076752941), (-414.14176, -677.332), (-410.082262425, -673.076752941))
        make_face()
        with BuildLine():
            ThreePointArc((-492.226262425, -755.220752941), (-453.10576, -712.232), (-492.226262425, -669.243247059))
            ThreePointArc((-492.226262425, -669.243247059), (-496.28576, -664.988), (-500.345257575, -669.243247059))
            ThreePointArc((-500.345257575, -669.243247059), (-539.46576, -712.232), (-500.345257575, -755.220752941))
            ThreePointArc((-500.345257575, -755.220752941), (-496.28576, -759.476), (-492.226262425, -755.220752941))
        make_face()
        with BuildLine():
            ThreePointArc((-617.142262425, -673.076752941), (-578.02176, -630.088), (-617.142262425, -587.099247059))
            ThreePointArc((-617.142262425, -587.099247059), (-621.20176, -582.844), (-625.261257575, -587.099247059))
            ThreePointArc((-625.261257575, -587.099247059), (-664.38176, -630.088), (-625.261257575, -673.076752941))
            ThreePointArc((-625.261257575, -673.076752941), (-621.20176, -677.332), (-617.142262425, -673.076752941))
        make_face()
        with BuildLine():
            ThreePointArc((-65.980502425, -699.052752941), (-26.86, -656.064), (-65.980502425, -613.075247059))
            ThreePointArc((-65.980502425, -613.075247059), (-70.04, -608.82), (-74.099497575, -613.075247059))
            ThreePointArc((-74.099497575, -613.075247059), (-113.22, -656.064), (-74.099497575, -699.052752941))
            ThreePointArc((-74.099497575, -699.052752941), (-70.04, -703.308), (-65.980502425, -699.052752941))
        make_face()
        with BuildLine():
            ThreePointArc((-204.020502425, -699.052752941), (-164.9, -656.064), (-204.020502425, -613.075247059))
            ThreePointArc((-204.020502425, -613.075247059), (-208.08, -608.82), (-212.139497575, -613.075247059))
            ThreePointArc((-212.139497575, -613.075247059), (-251.26, -656.064), (-212.139497575, -699.052752941))
            ThreePointArc((-212.139497575, -699.052752941), (-208.08, -703.308), (-204.020502425, -699.052752941))
        make_face()
        with BuildLine():
            ThreePointArc((-134.002262425, -811.932752941), (-94.88176, -768.944), (-134.002262425, -725.955247059))
            ThreePointArc((-134.002262425, -725.955247059), (-138.06176, -721.7), (-142.121257575, -725.955247059))
            ThreePointArc((-142.121257575, -725.955247059), (-181.24176, -768.944), (-142.121257575, -811.932752941))
            ThreePointArc((-142.121257575, -811.932752941), (-138.06176, -816.188), (-134.002262425, -811.932752941))
        make_face()
        with BuildLine():
            ThreePointArc((4.037737575, -811.932752941), (43.15824, -768.944), (4.037737575, -725.955247059))
            ThreePointArc((4.037737575, -725.955247059), (-0.02176, -721.7), (-4.081257575, -725.955247059))
            ThreePointArc((-4.081257575, -725.955247059), (-43.20176, -768.944), (-4.081257575, -811.932752941))
            ThreePointArc((-4.081257575, -811.932752941), (-0.02176, -816.188), (4.037737575, -811.932752941))
        make_face()
        with BuildLine():
            ThreePointArc((142.077737575, -811.932752941), (181.19824, -768.944), (142.077737575, -725.955247059))
            ThreePointArc((142.077737575, -725.955247059), (138.01824, -721.7), (133.958742425, -725.955247059))
            ThreePointArc((133.958742425, -725.955247059), (94.83824, -768.944), (133.958742425, -811.932752941))
            ThreePointArc((133.958742425, -811.932752941), (138.01824, -816.188), (142.077737575, -811.932752941))
        make_face()
        with BuildLine():
            ThreePointArc((210.099497575, -699.052752941), (249.22, -656.064), (210.099497575, -613.075247059))
            ThreePointArc((210.099497575, -613.075247059), (206.04, -608.82), (201.980502425, -613.075247059))
            ThreePointArc((201.980502425, -613.075247059), (162.86, -656.064), (201.980502425, -699.052752941))
            ThreePointArc((201.980502425, -699.052752941), (206.04, -703.308), (210.099497575, -699.052752941))
        make_face()
        with BuildLine():
            ThreePointArc((348.139497575, -699.052752941), (387.26, -656.064), (348.139497575, -613.075247059))
            ThreePointArc((348.139497575, -613.075247059), (344.08, -608.82), (340.020502425, -613.075247059))
            ThreePointArc((340.020502425, -613.075247059), (300.9, -656.064), (340.020502425, -699.052752941))
            ThreePointArc((340.020502425, -699.052752941), (344.08, -703.308), (348.139497575, -699.052752941))
        make_face()
        with BuildLine():
            ThreePointArc((280.117737575, -811.932752941), (319.23824, -768.944), (280.117737575, -725.955247059))
            ThreePointArc((280.117737575, -725.955247059), (276.05824, -721.7), (271.998742425, -725.955247059))
            ThreePointArc((271.998742425, -725.955247059), (232.87824, -768.944), (271.998742425, -811.932752941))
            ThreePointArc((271.998742425, -811.932752941), (276.05824, -816.188), (280.117737575, -811.932752941))
        make_face()
        with BuildLine():
            ThreePointArc((418.157737575, -811.932752941), (457.27824, -768.944), (418.157737575, -725.955247059))
            ThreePointArc((418.157737575, -725.955247059), (414.09824, -721.7), (410.038742425, -725.955247059))
            ThreePointArc((410.038742425, -725.955247059), (370.91824, -768.944), (410.038742425, -811.932752941))
            ThreePointArc((410.038742425, -811.932752941), (414.09824, -816.188), (418.157737575, -811.932752941))
        make_face()
        with BuildLine():
            ThreePointArc((556.197737575, -811.932752941), (595.31824, -768.944), (556.197737575, -725.955247059))
            ThreePointArc((556.197737575, -725.955247059), (552.13824, -721.7), (548.078742425, -725.955247059))
            ThreePointArc((548.078742425, -725.955247059), (508.95824, -768.944), (548.078742425, -811.932752941))
            ThreePointArc((548.078742425, -811.932752941), (552.13824, -816.188), (556.197737575, -811.932752941))
        make_face()
        with BuildLine():
            ThreePointArc((636.323497575, -699.052752941), (675.444, -656.064), (636.323497575, -613.075247059))
            ThreePointArc((636.323497575, -613.075247059), (632.264, -608.82), (628.204502425, -613.075247059))
            ThreePointArc((628.204502425, -613.075247059), (589.084, -656.064), (628.204502425, -699.052752941))
            ThreePointArc((628.204502425, -699.052752941), (632.264, -703.308), (636.323497575, -699.052752941))
        make_face()
        with BuildLine():
            ThreePointArc((486.179497575, -699.052752941), (525.3, -656.064), (486.179497575, -613.075247059))
            ThreePointArc((486.179497575, -613.075247059), (482.12, -608.82), (478.060502425, -613.075247059))
            ThreePointArc((478.060502425, -613.075247059), (438.94, -656.064), (478.060502425, -699.052752941))
            ThreePointArc((478.060502425, -699.052752941), (482.12, -703.308), (486.179497575, -699.052752941))
        make_face()
        with BuildLine():
            ThreePointArc((72.059497575, -699.052752941), (111.18, -656.064), (72.059497575, -613.075247059))
            ThreePointArc((72.059497575, -613.075247059), (68, -608.82), (63.940502425, -613.075247059))
            ThreePointArc((63.940502425, -613.075247059), (24.82, -656.064), (63.940502425, -699.052752941))
            ThreePointArc((63.940502425, -699.052752941), (68, -703.308), (72.059497575, -699.052752941))
        make_face()
    extrude(amount=-CUT_EXTRUDE1_DEPTH, mode=Mode.SUBTRACT)

    # Sketch12 → Cut-Extrude2 (cut, through all)
    with BuildSketch(Plane.XY.offset(25.4)):
        with Locations((-311.058943987, 619.02133005)):
            Circle(SKETCH12_R)
        with Locations((-103.794943987, 619.02133005)):
            Circle(SKETCH12_R)
        with Locations((-621.954943987, 622.47573005)):
            Circle(SKETCH12_R)
        with Locations((-0.162943987, 622.47573005)):
            Circle(SKETCH12_R)
        with Locations((-345.602943987, 622.47573005)):
            Circle(SKETCH12_R)
        with Locations((-552.866943987, 622.47573005)):
            Circle(SKETCH12_R)
        with Locations((-483.778943987, 622.47573005)):
            Circle(SKETCH12_R)
        with Locations((-69.250943987, 622.47573005)):
            Circle(SKETCH12_R)
        with Locations((103.469056013, 619.02133005)):
            Circle(SKETCH12_R)
        with Locations((-207.426943987, 622.47573005)):
            Circle(SKETCH12_R)
        with Locations((207.101056013, 622.47573005)):
            Circle(SKETCH12_R)
        with Locations((138.013056013, 622.47573005)):
            Circle(SKETCH12_R)
        with Locations((-414.690943987, 622.47573005)):
            Circle(SKETCH12_R)
        with Locations((34.381056013, 619.02133005)):
            Circle(SKETCH12_R)
        with Locations((-449.234943987, 619.02133005)):
            Circle(SKETCH12_R)
        with Locations((-380.146943987, 619.02133005)):
            Circle(SKETCH12_R)
        with Locations((-241.970943987, 619.02133005)):
            Circle(SKETCH12_R)
        with Locations((-587.410943987, 619.02133005)):
            Circle(SKETCH12_R)
        with Locations((172.557056013, 619.02133005)):
            Circle(SKETCH12_R)
        with Locations((-34.706943987, 619.02133005)):
            Circle(SKETCH12_R)
        with Locations((-138.338943987, 622.47573005)):
            Circle(SKETCH12_R)
        with Locations((-172.882943987, 619.02133005)):
            Circle(SKETCH12_R)
        with Locations((68.925056013, 622.47573005)):
            Circle(SKETCH12_R)
        with Locations((-276.514943987, 622.47573005)):
            Circle(SKETCH12_R)
        with Locations((-518.322943987, 619.02133005)):
            Circle(SKETCH12_R)
    extrude(amount=-CUT_EXTRUDE2_DEPTH, mode=Mode.SUBTRACT)

    # Sketch13 → Cut-Extrude3 (cut, through all)
    with BuildSketch(Plane.XY.offset(25.4)):
        with Locations((-353.589944199, -927.108408711)):
            Rectangle(SKETCH13_W, SKETCH13_H)
    extrude(amount=-CUT_EXTRUDE3_DEPTH, mode=Mode.SUBTRACT)


solid = part.part
